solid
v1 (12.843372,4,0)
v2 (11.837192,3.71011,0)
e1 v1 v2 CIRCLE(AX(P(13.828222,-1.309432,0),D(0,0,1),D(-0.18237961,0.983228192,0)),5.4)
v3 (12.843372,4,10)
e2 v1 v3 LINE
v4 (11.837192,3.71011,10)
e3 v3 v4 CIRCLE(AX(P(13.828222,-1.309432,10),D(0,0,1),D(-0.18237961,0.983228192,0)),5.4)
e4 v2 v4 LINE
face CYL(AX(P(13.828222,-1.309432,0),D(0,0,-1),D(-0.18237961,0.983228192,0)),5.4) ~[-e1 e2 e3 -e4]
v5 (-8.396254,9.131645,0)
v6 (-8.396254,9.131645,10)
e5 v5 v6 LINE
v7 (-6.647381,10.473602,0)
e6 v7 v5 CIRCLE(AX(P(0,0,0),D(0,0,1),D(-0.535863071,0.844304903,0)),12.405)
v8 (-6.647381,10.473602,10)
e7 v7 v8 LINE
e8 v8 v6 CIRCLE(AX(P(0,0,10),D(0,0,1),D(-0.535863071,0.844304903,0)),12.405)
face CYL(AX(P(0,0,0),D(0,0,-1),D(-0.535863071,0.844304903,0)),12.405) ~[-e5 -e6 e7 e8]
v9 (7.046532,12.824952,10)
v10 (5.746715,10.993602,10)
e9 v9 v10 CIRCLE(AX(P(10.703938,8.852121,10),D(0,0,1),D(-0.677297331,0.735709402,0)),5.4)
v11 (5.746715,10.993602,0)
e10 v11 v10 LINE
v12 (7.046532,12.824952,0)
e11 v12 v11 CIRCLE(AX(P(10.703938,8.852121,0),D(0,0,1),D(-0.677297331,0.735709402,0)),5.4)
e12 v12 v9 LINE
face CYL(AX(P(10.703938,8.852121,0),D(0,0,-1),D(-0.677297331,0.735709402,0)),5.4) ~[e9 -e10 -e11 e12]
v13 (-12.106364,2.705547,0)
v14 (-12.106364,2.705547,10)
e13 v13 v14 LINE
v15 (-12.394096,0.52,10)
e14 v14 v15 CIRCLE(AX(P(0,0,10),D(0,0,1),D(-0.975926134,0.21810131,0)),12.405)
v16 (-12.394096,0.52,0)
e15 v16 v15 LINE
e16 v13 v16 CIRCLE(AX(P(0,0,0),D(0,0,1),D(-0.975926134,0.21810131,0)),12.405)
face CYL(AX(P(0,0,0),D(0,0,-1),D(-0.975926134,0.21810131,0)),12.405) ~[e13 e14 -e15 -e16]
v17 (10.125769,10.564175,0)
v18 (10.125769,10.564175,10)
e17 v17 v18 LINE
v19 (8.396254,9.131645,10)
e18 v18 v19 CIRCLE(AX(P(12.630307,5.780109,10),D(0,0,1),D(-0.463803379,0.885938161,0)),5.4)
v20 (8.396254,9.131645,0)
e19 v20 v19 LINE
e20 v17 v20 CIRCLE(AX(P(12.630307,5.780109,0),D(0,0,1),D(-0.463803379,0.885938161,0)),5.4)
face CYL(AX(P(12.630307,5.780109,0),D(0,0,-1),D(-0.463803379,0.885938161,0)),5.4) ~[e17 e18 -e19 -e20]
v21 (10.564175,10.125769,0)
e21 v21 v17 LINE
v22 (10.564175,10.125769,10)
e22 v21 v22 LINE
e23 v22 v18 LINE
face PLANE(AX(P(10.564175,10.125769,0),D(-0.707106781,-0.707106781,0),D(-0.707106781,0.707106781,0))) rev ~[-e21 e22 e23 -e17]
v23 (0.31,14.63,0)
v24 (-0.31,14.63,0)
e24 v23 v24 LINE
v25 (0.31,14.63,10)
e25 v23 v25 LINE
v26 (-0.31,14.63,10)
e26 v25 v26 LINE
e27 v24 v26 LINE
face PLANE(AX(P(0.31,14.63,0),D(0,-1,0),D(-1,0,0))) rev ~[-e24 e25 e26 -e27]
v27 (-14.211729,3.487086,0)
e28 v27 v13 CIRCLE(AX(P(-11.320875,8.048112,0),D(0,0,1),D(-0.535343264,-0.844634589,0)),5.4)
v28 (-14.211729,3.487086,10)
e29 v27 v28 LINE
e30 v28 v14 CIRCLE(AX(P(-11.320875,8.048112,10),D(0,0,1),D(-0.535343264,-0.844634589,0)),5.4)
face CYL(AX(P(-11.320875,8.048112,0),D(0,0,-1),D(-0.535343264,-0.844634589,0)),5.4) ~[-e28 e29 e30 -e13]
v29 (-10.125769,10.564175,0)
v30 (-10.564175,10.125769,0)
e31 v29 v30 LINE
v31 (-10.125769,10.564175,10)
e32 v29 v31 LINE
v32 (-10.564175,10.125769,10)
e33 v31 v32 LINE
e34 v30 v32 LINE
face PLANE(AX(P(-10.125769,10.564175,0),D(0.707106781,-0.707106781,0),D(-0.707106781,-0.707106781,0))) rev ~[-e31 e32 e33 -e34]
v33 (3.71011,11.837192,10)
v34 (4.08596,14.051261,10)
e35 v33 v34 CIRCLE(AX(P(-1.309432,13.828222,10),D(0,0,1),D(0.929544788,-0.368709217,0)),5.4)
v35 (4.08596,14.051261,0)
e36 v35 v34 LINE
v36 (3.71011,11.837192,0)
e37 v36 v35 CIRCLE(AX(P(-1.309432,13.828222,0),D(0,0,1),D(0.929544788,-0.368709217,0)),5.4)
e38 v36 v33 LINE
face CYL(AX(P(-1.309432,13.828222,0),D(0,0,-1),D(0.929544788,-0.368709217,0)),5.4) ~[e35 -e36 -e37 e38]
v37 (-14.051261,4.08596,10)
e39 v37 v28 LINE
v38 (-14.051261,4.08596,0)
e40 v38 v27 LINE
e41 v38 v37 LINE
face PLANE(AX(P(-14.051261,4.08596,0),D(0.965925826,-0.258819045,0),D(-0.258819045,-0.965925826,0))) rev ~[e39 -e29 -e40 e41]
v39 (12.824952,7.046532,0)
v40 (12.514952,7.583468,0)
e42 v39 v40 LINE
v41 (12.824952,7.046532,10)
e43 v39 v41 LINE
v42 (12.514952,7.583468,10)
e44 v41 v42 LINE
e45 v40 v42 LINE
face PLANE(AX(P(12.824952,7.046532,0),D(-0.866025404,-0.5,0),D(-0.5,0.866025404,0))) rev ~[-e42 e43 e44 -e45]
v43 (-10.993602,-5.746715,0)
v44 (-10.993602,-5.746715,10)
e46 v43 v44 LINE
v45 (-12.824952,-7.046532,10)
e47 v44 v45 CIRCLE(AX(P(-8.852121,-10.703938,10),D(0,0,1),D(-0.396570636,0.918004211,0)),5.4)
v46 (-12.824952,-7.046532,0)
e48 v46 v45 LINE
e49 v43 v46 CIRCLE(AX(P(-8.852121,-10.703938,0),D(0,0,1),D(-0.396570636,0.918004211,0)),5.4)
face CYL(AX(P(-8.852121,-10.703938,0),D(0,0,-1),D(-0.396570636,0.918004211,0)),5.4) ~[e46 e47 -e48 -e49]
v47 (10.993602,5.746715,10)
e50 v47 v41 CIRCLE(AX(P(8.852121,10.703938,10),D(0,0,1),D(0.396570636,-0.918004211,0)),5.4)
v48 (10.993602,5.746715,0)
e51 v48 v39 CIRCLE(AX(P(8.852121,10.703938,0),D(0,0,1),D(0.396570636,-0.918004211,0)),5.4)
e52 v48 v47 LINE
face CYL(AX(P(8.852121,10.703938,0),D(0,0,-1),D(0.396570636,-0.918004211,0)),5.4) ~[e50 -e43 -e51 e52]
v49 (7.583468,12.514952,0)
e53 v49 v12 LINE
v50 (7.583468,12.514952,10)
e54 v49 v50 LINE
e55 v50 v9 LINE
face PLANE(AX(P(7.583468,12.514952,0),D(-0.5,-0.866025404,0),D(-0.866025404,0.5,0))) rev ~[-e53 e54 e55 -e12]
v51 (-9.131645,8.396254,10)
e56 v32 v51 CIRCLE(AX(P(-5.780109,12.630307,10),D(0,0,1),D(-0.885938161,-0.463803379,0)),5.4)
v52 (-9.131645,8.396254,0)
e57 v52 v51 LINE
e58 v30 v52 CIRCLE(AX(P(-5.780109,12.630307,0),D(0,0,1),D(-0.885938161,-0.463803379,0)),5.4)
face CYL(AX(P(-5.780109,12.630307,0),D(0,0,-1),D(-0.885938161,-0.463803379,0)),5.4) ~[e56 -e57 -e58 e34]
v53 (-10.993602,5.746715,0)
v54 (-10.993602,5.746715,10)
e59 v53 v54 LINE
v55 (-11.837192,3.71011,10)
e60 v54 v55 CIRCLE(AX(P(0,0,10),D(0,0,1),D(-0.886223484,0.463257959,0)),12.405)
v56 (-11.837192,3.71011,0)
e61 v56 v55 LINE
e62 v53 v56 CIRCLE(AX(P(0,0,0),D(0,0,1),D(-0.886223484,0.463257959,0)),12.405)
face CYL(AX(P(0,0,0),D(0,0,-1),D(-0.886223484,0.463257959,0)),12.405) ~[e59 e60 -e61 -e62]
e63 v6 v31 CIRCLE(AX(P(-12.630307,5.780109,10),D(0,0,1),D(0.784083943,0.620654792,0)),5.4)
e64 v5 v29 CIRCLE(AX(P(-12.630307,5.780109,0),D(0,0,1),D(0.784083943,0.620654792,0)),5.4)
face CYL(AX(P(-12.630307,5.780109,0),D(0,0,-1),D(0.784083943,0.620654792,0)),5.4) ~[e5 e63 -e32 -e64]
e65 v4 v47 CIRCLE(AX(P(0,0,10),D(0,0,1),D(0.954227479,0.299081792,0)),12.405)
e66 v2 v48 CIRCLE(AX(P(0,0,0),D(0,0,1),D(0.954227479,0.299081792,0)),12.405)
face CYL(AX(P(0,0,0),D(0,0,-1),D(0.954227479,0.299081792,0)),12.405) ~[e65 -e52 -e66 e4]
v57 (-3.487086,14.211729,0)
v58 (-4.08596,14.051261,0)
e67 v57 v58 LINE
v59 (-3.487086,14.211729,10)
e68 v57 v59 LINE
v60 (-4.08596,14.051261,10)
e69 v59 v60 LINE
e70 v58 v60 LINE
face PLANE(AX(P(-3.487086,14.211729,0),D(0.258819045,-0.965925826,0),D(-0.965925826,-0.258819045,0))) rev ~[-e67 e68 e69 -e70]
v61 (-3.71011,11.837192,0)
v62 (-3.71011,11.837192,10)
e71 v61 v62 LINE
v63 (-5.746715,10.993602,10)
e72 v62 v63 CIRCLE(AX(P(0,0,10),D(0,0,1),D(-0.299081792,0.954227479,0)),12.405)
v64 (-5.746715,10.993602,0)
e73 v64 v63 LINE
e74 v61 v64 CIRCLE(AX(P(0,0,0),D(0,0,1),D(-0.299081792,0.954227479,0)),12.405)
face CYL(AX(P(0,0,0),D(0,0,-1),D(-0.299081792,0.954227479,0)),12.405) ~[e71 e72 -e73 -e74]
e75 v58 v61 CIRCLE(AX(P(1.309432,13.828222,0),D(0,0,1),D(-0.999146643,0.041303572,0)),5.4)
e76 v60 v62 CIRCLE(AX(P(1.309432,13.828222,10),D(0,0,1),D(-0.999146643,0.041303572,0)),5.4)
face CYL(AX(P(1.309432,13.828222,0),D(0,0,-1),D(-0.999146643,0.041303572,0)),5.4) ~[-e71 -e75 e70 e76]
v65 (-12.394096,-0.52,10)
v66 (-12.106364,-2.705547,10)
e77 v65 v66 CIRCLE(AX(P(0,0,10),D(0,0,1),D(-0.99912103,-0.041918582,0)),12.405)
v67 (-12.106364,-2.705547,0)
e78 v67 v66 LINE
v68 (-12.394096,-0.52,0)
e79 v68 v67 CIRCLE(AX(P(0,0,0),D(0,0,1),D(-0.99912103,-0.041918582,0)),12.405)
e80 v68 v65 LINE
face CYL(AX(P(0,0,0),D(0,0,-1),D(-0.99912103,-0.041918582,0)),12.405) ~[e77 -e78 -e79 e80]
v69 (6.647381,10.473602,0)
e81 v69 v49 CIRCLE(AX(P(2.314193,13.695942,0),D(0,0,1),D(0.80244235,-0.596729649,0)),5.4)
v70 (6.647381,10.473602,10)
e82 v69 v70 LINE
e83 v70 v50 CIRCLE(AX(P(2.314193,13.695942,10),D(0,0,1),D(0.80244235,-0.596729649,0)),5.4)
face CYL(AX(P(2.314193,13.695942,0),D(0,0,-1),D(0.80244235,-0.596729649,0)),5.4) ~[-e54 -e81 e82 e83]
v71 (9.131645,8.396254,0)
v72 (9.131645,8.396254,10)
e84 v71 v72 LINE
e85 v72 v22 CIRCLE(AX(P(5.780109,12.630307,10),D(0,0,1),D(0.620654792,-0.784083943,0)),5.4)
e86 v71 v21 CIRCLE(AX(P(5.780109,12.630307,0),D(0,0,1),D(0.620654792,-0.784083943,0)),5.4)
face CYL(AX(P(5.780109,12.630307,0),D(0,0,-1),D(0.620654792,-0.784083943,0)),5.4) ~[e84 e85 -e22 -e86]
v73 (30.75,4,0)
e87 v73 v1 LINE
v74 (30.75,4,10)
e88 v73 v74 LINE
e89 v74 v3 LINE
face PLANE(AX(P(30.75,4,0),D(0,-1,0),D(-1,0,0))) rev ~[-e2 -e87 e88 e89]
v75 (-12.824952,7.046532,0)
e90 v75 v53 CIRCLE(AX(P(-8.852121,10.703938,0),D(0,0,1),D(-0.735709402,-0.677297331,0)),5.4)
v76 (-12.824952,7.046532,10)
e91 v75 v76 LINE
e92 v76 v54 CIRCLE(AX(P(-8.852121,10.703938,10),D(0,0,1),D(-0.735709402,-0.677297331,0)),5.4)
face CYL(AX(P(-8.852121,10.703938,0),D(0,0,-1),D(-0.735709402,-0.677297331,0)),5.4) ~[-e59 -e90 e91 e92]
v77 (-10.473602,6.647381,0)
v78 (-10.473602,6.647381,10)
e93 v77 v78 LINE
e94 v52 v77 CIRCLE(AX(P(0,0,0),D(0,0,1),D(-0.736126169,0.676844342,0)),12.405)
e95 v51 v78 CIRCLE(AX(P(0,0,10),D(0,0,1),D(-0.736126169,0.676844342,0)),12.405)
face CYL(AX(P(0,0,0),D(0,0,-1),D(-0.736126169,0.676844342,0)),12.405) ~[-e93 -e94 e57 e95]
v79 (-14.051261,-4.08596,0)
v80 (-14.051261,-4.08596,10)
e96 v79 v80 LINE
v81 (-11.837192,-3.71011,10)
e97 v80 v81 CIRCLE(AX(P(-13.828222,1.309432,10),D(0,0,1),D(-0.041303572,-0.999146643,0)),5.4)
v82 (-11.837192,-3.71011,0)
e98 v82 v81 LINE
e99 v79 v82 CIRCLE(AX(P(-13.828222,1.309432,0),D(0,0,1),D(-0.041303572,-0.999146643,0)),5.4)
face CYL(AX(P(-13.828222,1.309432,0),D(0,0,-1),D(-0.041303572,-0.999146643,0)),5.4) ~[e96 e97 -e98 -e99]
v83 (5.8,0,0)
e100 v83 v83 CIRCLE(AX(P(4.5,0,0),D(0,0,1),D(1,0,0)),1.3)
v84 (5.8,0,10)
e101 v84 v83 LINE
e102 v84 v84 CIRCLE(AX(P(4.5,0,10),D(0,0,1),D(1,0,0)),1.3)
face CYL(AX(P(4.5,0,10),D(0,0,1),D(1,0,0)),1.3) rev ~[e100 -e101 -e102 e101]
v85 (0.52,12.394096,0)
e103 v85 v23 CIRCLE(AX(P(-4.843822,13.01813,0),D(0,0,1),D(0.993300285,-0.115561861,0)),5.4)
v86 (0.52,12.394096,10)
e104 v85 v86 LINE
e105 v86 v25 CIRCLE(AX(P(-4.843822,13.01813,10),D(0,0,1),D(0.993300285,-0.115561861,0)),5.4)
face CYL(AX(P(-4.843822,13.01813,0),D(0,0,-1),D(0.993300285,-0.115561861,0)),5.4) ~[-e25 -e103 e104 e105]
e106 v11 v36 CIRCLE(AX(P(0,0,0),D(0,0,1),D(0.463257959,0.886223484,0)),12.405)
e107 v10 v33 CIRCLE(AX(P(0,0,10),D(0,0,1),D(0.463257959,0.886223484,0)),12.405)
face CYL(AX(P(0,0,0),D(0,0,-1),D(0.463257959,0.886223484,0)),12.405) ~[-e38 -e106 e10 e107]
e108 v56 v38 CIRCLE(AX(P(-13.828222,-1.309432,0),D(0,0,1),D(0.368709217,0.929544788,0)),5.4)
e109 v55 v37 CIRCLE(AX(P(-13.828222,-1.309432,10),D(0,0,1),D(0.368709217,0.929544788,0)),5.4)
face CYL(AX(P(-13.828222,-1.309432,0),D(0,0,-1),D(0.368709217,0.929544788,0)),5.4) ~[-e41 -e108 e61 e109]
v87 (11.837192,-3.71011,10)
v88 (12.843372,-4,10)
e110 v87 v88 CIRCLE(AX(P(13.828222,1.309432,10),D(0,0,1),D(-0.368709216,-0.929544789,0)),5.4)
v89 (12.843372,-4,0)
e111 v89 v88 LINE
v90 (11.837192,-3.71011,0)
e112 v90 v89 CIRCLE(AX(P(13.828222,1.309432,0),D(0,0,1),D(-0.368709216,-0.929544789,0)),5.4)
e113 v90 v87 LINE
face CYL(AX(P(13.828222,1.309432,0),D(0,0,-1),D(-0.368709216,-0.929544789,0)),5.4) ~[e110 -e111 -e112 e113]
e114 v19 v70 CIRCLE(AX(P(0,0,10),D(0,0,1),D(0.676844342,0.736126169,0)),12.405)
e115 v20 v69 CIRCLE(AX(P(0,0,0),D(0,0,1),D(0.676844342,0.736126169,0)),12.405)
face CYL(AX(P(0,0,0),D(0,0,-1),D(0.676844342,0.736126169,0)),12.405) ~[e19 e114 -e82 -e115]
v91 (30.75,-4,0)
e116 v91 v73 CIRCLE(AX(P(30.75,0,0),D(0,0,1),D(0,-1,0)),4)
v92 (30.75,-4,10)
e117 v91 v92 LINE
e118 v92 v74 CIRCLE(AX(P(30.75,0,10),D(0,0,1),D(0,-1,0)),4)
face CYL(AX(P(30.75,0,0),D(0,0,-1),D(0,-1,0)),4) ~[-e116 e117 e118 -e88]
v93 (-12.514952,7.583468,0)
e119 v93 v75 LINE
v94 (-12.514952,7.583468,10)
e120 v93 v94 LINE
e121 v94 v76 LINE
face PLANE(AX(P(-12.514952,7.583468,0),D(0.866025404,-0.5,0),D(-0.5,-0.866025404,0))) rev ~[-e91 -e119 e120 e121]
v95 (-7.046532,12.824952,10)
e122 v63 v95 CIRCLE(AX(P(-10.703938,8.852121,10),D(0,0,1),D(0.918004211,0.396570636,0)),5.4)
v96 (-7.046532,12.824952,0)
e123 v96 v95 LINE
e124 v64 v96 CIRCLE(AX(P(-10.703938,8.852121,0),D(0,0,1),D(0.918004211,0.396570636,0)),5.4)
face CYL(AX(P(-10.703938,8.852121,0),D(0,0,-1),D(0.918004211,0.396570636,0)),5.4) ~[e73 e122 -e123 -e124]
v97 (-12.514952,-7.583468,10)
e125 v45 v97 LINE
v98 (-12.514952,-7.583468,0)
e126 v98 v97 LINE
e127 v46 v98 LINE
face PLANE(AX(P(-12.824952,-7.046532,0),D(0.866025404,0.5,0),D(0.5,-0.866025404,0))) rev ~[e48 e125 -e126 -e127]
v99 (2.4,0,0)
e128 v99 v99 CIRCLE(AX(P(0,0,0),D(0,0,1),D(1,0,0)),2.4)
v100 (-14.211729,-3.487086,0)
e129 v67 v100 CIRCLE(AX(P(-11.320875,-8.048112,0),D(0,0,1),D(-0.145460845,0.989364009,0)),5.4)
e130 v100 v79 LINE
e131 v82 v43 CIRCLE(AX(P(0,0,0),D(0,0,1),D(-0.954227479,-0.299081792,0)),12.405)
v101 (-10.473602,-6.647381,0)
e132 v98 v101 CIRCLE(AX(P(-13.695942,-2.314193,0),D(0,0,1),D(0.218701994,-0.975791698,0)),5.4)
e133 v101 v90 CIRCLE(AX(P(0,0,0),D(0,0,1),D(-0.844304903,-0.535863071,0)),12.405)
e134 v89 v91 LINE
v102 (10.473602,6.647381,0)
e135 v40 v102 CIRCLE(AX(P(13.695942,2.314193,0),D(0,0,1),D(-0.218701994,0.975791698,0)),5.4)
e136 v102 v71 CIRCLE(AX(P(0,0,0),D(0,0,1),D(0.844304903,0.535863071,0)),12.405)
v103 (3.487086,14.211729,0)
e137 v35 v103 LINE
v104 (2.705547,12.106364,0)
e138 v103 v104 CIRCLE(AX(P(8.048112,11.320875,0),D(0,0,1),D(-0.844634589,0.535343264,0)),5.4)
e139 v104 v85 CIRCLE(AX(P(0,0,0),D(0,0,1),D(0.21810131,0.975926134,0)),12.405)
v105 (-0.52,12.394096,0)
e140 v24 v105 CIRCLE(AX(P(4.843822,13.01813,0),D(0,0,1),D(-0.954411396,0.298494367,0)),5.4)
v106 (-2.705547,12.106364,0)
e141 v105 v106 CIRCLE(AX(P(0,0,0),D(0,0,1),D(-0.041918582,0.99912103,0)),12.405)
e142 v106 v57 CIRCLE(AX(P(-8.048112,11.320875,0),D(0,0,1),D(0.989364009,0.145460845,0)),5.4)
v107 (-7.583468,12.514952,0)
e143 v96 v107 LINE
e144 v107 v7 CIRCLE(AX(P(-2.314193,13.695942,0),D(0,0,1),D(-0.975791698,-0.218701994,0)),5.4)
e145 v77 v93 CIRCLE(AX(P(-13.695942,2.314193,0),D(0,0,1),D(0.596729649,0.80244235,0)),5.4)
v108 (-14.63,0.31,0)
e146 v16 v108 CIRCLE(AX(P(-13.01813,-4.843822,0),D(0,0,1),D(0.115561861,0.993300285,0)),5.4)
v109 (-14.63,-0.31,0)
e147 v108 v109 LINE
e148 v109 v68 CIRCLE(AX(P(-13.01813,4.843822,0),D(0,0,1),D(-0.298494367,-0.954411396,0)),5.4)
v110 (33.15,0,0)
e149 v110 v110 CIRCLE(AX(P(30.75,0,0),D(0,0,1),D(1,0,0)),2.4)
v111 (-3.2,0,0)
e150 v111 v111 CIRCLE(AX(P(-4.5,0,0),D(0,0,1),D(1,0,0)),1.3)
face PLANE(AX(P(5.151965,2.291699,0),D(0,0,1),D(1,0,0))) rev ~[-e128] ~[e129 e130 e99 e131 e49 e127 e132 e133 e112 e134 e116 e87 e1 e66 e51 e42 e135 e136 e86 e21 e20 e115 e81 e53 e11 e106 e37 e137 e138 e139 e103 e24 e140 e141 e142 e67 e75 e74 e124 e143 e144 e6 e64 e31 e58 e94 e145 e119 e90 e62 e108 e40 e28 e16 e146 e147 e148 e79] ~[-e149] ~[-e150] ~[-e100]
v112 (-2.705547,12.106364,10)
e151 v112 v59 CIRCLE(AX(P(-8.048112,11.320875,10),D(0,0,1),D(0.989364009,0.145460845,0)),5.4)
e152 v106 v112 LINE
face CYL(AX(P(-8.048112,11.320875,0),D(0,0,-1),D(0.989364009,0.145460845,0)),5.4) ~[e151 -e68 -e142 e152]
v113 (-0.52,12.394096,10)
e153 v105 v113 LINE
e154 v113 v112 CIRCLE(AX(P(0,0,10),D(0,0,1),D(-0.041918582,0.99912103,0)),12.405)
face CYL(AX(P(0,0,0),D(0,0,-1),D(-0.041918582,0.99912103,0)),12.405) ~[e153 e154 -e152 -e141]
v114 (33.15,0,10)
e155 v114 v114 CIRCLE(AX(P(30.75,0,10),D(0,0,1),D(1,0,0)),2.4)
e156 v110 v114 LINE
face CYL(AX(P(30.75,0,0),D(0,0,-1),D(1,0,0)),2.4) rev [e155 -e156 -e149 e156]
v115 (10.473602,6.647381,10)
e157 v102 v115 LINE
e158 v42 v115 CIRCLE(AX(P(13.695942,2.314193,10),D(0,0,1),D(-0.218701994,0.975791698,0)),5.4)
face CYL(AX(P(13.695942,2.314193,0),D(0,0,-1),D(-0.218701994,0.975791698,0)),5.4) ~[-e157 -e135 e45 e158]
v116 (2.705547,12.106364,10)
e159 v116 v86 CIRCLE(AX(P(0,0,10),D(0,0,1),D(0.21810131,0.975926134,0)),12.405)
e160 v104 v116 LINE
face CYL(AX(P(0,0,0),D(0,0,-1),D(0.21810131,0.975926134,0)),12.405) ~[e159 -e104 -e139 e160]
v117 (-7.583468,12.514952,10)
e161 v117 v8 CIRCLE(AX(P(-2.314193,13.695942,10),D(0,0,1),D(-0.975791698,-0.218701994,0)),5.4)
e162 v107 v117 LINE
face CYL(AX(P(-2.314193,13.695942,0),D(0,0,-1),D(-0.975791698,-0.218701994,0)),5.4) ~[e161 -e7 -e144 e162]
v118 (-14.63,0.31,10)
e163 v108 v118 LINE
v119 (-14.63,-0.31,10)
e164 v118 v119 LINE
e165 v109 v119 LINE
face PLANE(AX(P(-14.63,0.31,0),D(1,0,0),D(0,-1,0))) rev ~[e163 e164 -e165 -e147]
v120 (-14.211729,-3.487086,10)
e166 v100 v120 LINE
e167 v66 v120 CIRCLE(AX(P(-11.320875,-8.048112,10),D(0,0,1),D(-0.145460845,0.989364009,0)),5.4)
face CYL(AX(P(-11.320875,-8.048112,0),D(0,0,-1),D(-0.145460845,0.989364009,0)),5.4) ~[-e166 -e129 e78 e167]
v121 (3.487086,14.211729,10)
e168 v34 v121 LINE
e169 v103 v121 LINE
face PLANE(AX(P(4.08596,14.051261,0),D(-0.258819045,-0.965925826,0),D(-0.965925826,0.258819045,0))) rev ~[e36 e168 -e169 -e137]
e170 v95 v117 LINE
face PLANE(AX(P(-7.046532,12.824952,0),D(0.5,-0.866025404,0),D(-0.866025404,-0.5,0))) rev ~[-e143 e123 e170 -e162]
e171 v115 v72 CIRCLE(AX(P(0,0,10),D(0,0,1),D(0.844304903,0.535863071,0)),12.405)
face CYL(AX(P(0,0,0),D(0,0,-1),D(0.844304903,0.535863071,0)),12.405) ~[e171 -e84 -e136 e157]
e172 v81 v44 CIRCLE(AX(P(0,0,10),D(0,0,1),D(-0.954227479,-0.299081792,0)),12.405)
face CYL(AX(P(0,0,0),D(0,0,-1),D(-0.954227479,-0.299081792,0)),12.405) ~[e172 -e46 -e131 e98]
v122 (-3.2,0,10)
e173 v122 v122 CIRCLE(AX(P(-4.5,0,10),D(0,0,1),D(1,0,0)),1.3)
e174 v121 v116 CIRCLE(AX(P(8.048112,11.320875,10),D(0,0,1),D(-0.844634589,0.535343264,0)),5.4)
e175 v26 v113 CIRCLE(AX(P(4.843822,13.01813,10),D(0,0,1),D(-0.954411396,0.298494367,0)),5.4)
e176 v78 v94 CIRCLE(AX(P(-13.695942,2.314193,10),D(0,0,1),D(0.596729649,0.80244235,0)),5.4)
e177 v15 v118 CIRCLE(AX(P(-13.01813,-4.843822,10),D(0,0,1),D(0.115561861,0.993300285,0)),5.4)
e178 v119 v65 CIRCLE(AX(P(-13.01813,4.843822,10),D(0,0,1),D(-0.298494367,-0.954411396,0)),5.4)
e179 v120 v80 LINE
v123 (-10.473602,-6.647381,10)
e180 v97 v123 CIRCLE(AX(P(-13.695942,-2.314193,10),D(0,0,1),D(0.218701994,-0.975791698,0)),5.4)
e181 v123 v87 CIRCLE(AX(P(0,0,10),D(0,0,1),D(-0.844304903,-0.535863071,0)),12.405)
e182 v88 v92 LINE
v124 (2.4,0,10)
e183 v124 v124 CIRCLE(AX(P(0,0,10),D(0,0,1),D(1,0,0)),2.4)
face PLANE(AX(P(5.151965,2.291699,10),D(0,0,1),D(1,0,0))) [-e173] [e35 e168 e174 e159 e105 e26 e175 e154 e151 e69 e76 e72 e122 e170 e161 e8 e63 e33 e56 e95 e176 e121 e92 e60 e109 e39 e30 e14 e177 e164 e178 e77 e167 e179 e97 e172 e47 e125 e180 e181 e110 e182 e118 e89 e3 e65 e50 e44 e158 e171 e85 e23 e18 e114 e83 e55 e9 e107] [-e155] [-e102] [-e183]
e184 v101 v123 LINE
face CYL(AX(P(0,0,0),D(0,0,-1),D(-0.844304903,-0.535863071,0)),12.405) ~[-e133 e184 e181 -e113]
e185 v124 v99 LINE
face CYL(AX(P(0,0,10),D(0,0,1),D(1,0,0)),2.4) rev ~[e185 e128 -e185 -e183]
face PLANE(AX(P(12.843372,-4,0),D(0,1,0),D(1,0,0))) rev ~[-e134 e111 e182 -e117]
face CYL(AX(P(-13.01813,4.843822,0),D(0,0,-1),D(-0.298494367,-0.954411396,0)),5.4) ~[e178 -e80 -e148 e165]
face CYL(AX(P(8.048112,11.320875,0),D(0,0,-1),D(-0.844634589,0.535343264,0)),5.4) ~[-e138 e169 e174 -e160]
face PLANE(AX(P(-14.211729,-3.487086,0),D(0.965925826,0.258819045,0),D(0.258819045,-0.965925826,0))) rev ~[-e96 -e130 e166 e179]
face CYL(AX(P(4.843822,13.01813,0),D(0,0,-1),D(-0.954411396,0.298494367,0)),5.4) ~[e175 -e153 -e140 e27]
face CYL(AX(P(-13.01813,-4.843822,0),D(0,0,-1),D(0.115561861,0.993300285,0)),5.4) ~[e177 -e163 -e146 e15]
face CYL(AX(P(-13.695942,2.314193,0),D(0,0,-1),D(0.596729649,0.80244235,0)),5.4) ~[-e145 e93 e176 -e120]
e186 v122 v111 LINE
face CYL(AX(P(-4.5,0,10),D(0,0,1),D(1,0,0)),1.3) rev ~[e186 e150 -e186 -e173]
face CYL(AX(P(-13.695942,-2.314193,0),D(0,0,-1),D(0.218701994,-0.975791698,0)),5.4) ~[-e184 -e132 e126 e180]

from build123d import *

# Parameters (mm, degrees)
SKETCH1_R           = 2
SKETCH1_R_2         = 2.4
BOSS_EXTRUDE1_DEPTH = 10
SKETCH2_R           = 2.4
SKETCH2_R_2         = 1.3
CUT_EXTRUDE1_DEPTH  = 40.007683858


with BuildPart() as part:
    # Sketch1 → Boss-Extrude1 (new body)
    with BuildSketch(Plane.XY):
        with BuildLine():
            Line((0.31, 14.63), (-0.31, 14.63))
            ThreePointArc((-0.31, 14.63), (-0.532517386, 13.523085628), (-0.52, 12.394096377))
            ThreePointArc((-0.52, 12.394096377), (-1.619177414, 12.298873505), (-2.70554676, 12.106363687))
            ThreePointArc((-2.70554676, 12.106363687), (-2.985659813, 13.2001233), (-3.487085624, 14.211728743))
            Line((-3.487085624, 14.211728743), (-4.085959636, 14.051260935))
            ThreePointArc((-4.085959636, 14.051260935), (-4.014404405, 12.924472018), (-3.710109619, 11.837191881))
            ThreePointArc((-3.710109619, 11.837191881), (-4.747187978, 11.460725601), (-5.746714978, 10.993602319))
            ThreePointArc((-5.746714978, 10.993602319), (-6.30036923, 11.977594384), (-7.046532125, 12.824951657))
            Line((-7.046532125, 12.824951657), (-7.583467875, 12.514951657))
            ThreePointArc((-7.583467875, 12.514951657), (-7.222716398, 11.445076999), (-6.647381398, 10.473602319))
            ThreePointArc((-6.647381398, 10.473602319), (-7.551685527, 9.841548186), (-8.396254069, 9.131645121))
            ThreePointArc((-8.396254069, 9.131645121), (-9.185718896, 9.938812205), (-10.125769107, 10.564175311))
            Line((-10.125769107, 10.564175311), (-10.564175311, 10.125769107))
            ThreePointArc((-10.564175311, 10.125769107), (-9.938812205, 9.185718896), (-9.131645121, 8.396254069))
            ThreePointArc((-9.131645121, 8.396254069), (-9.841548186, 7.551685527), (-10.473602319, 6.647381398))
            ThreePointArc((-10.473602319, 6.647381398), (-11.445076999, 7.222716398), (-12.514951657, 7.583467875))
            Line((-12.514951657, 7.583467875), (-12.824951657, 7.046532125))
            ThreePointArc((-12.824951657, 7.046532125), (-11.977594384, 6.30036923), (-10.993602319, 5.746714978))
            ThreePointArc((-10.993602319, 5.746714978), (-11.460725601, 4.747187978), (-11.837191881, 3.710109619))
            ThreePointArc((-11.837191881, 3.710109619), (-12.924472018, 4.014404405), (-14.051260935, 4.085959636))
            Line((-14.051260935, 4.085959636), (-14.211728743, 3.487085624))
            ThreePointArc((-14.211728743, 3.487085624), (-13.2001233, 2.985659813), (-12.106363687, 2.70554676))
            ThreePointArc((-12.106363687, 2.70554676), (-12.298873505, 1.619177414), (-12.394096377, 0.52))
            ThreePointArc((-12.394096377, 0.52), (-13.523085628, 0.532517386), (-14.63, 0.31))
            Line((-14.63, 0.31), (-14.63, -0.31))
            ThreePointArc((-14.63, -0.31), (-13.523085628, -0.532517386), (-12.394096377, -0.52))
            ThreePointArc((-12.394096377, -0.52), (-12.298873505, -1.619177414), (-12.106363687, -2.70554676))
            ThreePointArc((-12.106363687, -2.70554676), (-13.2001233, -2.985659813), (-14.211728743, -3.487085624))
            Line((-14.211728743, -3.487085624), (-14.051260935, -4.085959636))
            ThreePointArc((-14.051260935, -4.085959636), (-12.924472018, -4.014404405), (-11.837191881, -3.710109619))
            ThreePointArc((-11.837191881, -3.710109619), (-11.460725601, -4.747187978), (-10.993602319, -5.746714978))
            ThreePointArc((-10.993602319, -5.746714978), (-11.977594384, -6.30036923), (-12.824951657, -7.046532125))
            Line((-12.824951657, -7.046532125), (-12.514951657, -7.583467875))
            ThreePointArc((-12.514951657, -7.583467875), (-11.445076999, -7.222716398), (-10.473602319, -6.647381398))
            ThreePointArc((-10.473602319, -6.647381398), (1.619177414, -12.298873505), (11.837191881, -3.710109619))
            ThreePointArc((11.837191881, -3.710109619), (12.333238692, -3.879500788), (12.84337176, -4))
            Line((12.84337176, -4), (30.75, -4))
            ThreePointArc((30.75, -4), (34.75, 0), (30.75, 4))
            Line((30.75, 4), (12.84337176, 4))
            ThreePointArc((12.84337176, 4), (12.333238692, 3.879500788), (11.837191881, 3.710109619))
            ThreePointArc((11.837191881, 3.710109619), (11.460725601, 4.747187978), (10.993602319, 5.746714978))
            ThreePointArc((10.993602319, 5.746714978), (11.977594384, 6.30036923), (12.824951657, 7.046532125))
            Line((12.824951657, 7.046532125), (12.514951657, 7.583467875))
            ThreePointArc((12.514951657, 7.583467875), (11.445076999, 7.222716398), (10.473602319, 6.647381398))
            ThreePointArc((10.473602319, 6.647381398), (9.841548186, 7.551685527), (9.131645121, 8.396254069))
            ThreePointArc((9.131645121, 8.396254069), (9.938812205, 9.185718896), (10.564175311, 10.125769107))
            Line((10.564175311, 10.125769107), (10.125769107, 10.564175311))
            ThreePointArc((10.125769107, 10.564175311), (9.185718896, 9.938812205), (8.396254069, 9.131645121))
            ThreePointArc((8.396254069, 9.131645121), (7.551685527, 9.841548186), (6.647381398, 10.473602319))
            ThreePointArc((6.647381398, 10.473602319), (7.222716398, 11.445076999), (7.583467875, 12.514951657))
            Line((7.583467875, 12.514951657), (7.046532125, 12.824951657))
            ThreePointArc((7.046532125, 12.824951657), (6.30036923, 11.977594384), (5.746714978, 10.993602319))
            ThreePointArc((5.746714978, 10.993602319), (4.747187978, 11.460725601), (3.710109619, 11.837191881))
            ThreePointArc((3.710109619, 11.837191881), (4.014404405, 12.924472018), (4.085959636, 14.051260935))
            Line((4.085959636, 14.051260935), (3.487085624, 14.211728743))
            ThreePointArc((3.487085624, 14.211728743), (2.985659813, 13.2001233), (2.70554676, 12.106363687))
            ThreePointArc((2.70554676, 12.106363687), (1.619177414, 12.298873505), (0.52, 12.394096377))
            ThreePointArc((0.52, 12.394096377), (0.532517386, 13.523085628), (0.31, 14.63))
        make_face()
        Circle(SKETCH1_R, mode=Mode.SUBTRACT)
        with Locations((30.75, 0)):
            Circle(SKETCH1_R_2, mode=Mode.SUBTRACT)
    extrude(amount=BOSS_EXTRUDE1_DEPTH)

    # Sketch2 → Cut-Extrude1 (cut, through all)
    with BuildSketch(Plane.XY.offset(10)):
        Circle(SKETCH2_R)
        with Locations((4.5, 0)):
            Circle(SKETCH2_R_2)
        with Locations((-4.5, 0)):
            Circle(SKETCH2_R_2)
    extrude(amount=-CUT_EXTRUDE1_DEPTH, mode=Mode.SUBTRACT)


solid = part.part
